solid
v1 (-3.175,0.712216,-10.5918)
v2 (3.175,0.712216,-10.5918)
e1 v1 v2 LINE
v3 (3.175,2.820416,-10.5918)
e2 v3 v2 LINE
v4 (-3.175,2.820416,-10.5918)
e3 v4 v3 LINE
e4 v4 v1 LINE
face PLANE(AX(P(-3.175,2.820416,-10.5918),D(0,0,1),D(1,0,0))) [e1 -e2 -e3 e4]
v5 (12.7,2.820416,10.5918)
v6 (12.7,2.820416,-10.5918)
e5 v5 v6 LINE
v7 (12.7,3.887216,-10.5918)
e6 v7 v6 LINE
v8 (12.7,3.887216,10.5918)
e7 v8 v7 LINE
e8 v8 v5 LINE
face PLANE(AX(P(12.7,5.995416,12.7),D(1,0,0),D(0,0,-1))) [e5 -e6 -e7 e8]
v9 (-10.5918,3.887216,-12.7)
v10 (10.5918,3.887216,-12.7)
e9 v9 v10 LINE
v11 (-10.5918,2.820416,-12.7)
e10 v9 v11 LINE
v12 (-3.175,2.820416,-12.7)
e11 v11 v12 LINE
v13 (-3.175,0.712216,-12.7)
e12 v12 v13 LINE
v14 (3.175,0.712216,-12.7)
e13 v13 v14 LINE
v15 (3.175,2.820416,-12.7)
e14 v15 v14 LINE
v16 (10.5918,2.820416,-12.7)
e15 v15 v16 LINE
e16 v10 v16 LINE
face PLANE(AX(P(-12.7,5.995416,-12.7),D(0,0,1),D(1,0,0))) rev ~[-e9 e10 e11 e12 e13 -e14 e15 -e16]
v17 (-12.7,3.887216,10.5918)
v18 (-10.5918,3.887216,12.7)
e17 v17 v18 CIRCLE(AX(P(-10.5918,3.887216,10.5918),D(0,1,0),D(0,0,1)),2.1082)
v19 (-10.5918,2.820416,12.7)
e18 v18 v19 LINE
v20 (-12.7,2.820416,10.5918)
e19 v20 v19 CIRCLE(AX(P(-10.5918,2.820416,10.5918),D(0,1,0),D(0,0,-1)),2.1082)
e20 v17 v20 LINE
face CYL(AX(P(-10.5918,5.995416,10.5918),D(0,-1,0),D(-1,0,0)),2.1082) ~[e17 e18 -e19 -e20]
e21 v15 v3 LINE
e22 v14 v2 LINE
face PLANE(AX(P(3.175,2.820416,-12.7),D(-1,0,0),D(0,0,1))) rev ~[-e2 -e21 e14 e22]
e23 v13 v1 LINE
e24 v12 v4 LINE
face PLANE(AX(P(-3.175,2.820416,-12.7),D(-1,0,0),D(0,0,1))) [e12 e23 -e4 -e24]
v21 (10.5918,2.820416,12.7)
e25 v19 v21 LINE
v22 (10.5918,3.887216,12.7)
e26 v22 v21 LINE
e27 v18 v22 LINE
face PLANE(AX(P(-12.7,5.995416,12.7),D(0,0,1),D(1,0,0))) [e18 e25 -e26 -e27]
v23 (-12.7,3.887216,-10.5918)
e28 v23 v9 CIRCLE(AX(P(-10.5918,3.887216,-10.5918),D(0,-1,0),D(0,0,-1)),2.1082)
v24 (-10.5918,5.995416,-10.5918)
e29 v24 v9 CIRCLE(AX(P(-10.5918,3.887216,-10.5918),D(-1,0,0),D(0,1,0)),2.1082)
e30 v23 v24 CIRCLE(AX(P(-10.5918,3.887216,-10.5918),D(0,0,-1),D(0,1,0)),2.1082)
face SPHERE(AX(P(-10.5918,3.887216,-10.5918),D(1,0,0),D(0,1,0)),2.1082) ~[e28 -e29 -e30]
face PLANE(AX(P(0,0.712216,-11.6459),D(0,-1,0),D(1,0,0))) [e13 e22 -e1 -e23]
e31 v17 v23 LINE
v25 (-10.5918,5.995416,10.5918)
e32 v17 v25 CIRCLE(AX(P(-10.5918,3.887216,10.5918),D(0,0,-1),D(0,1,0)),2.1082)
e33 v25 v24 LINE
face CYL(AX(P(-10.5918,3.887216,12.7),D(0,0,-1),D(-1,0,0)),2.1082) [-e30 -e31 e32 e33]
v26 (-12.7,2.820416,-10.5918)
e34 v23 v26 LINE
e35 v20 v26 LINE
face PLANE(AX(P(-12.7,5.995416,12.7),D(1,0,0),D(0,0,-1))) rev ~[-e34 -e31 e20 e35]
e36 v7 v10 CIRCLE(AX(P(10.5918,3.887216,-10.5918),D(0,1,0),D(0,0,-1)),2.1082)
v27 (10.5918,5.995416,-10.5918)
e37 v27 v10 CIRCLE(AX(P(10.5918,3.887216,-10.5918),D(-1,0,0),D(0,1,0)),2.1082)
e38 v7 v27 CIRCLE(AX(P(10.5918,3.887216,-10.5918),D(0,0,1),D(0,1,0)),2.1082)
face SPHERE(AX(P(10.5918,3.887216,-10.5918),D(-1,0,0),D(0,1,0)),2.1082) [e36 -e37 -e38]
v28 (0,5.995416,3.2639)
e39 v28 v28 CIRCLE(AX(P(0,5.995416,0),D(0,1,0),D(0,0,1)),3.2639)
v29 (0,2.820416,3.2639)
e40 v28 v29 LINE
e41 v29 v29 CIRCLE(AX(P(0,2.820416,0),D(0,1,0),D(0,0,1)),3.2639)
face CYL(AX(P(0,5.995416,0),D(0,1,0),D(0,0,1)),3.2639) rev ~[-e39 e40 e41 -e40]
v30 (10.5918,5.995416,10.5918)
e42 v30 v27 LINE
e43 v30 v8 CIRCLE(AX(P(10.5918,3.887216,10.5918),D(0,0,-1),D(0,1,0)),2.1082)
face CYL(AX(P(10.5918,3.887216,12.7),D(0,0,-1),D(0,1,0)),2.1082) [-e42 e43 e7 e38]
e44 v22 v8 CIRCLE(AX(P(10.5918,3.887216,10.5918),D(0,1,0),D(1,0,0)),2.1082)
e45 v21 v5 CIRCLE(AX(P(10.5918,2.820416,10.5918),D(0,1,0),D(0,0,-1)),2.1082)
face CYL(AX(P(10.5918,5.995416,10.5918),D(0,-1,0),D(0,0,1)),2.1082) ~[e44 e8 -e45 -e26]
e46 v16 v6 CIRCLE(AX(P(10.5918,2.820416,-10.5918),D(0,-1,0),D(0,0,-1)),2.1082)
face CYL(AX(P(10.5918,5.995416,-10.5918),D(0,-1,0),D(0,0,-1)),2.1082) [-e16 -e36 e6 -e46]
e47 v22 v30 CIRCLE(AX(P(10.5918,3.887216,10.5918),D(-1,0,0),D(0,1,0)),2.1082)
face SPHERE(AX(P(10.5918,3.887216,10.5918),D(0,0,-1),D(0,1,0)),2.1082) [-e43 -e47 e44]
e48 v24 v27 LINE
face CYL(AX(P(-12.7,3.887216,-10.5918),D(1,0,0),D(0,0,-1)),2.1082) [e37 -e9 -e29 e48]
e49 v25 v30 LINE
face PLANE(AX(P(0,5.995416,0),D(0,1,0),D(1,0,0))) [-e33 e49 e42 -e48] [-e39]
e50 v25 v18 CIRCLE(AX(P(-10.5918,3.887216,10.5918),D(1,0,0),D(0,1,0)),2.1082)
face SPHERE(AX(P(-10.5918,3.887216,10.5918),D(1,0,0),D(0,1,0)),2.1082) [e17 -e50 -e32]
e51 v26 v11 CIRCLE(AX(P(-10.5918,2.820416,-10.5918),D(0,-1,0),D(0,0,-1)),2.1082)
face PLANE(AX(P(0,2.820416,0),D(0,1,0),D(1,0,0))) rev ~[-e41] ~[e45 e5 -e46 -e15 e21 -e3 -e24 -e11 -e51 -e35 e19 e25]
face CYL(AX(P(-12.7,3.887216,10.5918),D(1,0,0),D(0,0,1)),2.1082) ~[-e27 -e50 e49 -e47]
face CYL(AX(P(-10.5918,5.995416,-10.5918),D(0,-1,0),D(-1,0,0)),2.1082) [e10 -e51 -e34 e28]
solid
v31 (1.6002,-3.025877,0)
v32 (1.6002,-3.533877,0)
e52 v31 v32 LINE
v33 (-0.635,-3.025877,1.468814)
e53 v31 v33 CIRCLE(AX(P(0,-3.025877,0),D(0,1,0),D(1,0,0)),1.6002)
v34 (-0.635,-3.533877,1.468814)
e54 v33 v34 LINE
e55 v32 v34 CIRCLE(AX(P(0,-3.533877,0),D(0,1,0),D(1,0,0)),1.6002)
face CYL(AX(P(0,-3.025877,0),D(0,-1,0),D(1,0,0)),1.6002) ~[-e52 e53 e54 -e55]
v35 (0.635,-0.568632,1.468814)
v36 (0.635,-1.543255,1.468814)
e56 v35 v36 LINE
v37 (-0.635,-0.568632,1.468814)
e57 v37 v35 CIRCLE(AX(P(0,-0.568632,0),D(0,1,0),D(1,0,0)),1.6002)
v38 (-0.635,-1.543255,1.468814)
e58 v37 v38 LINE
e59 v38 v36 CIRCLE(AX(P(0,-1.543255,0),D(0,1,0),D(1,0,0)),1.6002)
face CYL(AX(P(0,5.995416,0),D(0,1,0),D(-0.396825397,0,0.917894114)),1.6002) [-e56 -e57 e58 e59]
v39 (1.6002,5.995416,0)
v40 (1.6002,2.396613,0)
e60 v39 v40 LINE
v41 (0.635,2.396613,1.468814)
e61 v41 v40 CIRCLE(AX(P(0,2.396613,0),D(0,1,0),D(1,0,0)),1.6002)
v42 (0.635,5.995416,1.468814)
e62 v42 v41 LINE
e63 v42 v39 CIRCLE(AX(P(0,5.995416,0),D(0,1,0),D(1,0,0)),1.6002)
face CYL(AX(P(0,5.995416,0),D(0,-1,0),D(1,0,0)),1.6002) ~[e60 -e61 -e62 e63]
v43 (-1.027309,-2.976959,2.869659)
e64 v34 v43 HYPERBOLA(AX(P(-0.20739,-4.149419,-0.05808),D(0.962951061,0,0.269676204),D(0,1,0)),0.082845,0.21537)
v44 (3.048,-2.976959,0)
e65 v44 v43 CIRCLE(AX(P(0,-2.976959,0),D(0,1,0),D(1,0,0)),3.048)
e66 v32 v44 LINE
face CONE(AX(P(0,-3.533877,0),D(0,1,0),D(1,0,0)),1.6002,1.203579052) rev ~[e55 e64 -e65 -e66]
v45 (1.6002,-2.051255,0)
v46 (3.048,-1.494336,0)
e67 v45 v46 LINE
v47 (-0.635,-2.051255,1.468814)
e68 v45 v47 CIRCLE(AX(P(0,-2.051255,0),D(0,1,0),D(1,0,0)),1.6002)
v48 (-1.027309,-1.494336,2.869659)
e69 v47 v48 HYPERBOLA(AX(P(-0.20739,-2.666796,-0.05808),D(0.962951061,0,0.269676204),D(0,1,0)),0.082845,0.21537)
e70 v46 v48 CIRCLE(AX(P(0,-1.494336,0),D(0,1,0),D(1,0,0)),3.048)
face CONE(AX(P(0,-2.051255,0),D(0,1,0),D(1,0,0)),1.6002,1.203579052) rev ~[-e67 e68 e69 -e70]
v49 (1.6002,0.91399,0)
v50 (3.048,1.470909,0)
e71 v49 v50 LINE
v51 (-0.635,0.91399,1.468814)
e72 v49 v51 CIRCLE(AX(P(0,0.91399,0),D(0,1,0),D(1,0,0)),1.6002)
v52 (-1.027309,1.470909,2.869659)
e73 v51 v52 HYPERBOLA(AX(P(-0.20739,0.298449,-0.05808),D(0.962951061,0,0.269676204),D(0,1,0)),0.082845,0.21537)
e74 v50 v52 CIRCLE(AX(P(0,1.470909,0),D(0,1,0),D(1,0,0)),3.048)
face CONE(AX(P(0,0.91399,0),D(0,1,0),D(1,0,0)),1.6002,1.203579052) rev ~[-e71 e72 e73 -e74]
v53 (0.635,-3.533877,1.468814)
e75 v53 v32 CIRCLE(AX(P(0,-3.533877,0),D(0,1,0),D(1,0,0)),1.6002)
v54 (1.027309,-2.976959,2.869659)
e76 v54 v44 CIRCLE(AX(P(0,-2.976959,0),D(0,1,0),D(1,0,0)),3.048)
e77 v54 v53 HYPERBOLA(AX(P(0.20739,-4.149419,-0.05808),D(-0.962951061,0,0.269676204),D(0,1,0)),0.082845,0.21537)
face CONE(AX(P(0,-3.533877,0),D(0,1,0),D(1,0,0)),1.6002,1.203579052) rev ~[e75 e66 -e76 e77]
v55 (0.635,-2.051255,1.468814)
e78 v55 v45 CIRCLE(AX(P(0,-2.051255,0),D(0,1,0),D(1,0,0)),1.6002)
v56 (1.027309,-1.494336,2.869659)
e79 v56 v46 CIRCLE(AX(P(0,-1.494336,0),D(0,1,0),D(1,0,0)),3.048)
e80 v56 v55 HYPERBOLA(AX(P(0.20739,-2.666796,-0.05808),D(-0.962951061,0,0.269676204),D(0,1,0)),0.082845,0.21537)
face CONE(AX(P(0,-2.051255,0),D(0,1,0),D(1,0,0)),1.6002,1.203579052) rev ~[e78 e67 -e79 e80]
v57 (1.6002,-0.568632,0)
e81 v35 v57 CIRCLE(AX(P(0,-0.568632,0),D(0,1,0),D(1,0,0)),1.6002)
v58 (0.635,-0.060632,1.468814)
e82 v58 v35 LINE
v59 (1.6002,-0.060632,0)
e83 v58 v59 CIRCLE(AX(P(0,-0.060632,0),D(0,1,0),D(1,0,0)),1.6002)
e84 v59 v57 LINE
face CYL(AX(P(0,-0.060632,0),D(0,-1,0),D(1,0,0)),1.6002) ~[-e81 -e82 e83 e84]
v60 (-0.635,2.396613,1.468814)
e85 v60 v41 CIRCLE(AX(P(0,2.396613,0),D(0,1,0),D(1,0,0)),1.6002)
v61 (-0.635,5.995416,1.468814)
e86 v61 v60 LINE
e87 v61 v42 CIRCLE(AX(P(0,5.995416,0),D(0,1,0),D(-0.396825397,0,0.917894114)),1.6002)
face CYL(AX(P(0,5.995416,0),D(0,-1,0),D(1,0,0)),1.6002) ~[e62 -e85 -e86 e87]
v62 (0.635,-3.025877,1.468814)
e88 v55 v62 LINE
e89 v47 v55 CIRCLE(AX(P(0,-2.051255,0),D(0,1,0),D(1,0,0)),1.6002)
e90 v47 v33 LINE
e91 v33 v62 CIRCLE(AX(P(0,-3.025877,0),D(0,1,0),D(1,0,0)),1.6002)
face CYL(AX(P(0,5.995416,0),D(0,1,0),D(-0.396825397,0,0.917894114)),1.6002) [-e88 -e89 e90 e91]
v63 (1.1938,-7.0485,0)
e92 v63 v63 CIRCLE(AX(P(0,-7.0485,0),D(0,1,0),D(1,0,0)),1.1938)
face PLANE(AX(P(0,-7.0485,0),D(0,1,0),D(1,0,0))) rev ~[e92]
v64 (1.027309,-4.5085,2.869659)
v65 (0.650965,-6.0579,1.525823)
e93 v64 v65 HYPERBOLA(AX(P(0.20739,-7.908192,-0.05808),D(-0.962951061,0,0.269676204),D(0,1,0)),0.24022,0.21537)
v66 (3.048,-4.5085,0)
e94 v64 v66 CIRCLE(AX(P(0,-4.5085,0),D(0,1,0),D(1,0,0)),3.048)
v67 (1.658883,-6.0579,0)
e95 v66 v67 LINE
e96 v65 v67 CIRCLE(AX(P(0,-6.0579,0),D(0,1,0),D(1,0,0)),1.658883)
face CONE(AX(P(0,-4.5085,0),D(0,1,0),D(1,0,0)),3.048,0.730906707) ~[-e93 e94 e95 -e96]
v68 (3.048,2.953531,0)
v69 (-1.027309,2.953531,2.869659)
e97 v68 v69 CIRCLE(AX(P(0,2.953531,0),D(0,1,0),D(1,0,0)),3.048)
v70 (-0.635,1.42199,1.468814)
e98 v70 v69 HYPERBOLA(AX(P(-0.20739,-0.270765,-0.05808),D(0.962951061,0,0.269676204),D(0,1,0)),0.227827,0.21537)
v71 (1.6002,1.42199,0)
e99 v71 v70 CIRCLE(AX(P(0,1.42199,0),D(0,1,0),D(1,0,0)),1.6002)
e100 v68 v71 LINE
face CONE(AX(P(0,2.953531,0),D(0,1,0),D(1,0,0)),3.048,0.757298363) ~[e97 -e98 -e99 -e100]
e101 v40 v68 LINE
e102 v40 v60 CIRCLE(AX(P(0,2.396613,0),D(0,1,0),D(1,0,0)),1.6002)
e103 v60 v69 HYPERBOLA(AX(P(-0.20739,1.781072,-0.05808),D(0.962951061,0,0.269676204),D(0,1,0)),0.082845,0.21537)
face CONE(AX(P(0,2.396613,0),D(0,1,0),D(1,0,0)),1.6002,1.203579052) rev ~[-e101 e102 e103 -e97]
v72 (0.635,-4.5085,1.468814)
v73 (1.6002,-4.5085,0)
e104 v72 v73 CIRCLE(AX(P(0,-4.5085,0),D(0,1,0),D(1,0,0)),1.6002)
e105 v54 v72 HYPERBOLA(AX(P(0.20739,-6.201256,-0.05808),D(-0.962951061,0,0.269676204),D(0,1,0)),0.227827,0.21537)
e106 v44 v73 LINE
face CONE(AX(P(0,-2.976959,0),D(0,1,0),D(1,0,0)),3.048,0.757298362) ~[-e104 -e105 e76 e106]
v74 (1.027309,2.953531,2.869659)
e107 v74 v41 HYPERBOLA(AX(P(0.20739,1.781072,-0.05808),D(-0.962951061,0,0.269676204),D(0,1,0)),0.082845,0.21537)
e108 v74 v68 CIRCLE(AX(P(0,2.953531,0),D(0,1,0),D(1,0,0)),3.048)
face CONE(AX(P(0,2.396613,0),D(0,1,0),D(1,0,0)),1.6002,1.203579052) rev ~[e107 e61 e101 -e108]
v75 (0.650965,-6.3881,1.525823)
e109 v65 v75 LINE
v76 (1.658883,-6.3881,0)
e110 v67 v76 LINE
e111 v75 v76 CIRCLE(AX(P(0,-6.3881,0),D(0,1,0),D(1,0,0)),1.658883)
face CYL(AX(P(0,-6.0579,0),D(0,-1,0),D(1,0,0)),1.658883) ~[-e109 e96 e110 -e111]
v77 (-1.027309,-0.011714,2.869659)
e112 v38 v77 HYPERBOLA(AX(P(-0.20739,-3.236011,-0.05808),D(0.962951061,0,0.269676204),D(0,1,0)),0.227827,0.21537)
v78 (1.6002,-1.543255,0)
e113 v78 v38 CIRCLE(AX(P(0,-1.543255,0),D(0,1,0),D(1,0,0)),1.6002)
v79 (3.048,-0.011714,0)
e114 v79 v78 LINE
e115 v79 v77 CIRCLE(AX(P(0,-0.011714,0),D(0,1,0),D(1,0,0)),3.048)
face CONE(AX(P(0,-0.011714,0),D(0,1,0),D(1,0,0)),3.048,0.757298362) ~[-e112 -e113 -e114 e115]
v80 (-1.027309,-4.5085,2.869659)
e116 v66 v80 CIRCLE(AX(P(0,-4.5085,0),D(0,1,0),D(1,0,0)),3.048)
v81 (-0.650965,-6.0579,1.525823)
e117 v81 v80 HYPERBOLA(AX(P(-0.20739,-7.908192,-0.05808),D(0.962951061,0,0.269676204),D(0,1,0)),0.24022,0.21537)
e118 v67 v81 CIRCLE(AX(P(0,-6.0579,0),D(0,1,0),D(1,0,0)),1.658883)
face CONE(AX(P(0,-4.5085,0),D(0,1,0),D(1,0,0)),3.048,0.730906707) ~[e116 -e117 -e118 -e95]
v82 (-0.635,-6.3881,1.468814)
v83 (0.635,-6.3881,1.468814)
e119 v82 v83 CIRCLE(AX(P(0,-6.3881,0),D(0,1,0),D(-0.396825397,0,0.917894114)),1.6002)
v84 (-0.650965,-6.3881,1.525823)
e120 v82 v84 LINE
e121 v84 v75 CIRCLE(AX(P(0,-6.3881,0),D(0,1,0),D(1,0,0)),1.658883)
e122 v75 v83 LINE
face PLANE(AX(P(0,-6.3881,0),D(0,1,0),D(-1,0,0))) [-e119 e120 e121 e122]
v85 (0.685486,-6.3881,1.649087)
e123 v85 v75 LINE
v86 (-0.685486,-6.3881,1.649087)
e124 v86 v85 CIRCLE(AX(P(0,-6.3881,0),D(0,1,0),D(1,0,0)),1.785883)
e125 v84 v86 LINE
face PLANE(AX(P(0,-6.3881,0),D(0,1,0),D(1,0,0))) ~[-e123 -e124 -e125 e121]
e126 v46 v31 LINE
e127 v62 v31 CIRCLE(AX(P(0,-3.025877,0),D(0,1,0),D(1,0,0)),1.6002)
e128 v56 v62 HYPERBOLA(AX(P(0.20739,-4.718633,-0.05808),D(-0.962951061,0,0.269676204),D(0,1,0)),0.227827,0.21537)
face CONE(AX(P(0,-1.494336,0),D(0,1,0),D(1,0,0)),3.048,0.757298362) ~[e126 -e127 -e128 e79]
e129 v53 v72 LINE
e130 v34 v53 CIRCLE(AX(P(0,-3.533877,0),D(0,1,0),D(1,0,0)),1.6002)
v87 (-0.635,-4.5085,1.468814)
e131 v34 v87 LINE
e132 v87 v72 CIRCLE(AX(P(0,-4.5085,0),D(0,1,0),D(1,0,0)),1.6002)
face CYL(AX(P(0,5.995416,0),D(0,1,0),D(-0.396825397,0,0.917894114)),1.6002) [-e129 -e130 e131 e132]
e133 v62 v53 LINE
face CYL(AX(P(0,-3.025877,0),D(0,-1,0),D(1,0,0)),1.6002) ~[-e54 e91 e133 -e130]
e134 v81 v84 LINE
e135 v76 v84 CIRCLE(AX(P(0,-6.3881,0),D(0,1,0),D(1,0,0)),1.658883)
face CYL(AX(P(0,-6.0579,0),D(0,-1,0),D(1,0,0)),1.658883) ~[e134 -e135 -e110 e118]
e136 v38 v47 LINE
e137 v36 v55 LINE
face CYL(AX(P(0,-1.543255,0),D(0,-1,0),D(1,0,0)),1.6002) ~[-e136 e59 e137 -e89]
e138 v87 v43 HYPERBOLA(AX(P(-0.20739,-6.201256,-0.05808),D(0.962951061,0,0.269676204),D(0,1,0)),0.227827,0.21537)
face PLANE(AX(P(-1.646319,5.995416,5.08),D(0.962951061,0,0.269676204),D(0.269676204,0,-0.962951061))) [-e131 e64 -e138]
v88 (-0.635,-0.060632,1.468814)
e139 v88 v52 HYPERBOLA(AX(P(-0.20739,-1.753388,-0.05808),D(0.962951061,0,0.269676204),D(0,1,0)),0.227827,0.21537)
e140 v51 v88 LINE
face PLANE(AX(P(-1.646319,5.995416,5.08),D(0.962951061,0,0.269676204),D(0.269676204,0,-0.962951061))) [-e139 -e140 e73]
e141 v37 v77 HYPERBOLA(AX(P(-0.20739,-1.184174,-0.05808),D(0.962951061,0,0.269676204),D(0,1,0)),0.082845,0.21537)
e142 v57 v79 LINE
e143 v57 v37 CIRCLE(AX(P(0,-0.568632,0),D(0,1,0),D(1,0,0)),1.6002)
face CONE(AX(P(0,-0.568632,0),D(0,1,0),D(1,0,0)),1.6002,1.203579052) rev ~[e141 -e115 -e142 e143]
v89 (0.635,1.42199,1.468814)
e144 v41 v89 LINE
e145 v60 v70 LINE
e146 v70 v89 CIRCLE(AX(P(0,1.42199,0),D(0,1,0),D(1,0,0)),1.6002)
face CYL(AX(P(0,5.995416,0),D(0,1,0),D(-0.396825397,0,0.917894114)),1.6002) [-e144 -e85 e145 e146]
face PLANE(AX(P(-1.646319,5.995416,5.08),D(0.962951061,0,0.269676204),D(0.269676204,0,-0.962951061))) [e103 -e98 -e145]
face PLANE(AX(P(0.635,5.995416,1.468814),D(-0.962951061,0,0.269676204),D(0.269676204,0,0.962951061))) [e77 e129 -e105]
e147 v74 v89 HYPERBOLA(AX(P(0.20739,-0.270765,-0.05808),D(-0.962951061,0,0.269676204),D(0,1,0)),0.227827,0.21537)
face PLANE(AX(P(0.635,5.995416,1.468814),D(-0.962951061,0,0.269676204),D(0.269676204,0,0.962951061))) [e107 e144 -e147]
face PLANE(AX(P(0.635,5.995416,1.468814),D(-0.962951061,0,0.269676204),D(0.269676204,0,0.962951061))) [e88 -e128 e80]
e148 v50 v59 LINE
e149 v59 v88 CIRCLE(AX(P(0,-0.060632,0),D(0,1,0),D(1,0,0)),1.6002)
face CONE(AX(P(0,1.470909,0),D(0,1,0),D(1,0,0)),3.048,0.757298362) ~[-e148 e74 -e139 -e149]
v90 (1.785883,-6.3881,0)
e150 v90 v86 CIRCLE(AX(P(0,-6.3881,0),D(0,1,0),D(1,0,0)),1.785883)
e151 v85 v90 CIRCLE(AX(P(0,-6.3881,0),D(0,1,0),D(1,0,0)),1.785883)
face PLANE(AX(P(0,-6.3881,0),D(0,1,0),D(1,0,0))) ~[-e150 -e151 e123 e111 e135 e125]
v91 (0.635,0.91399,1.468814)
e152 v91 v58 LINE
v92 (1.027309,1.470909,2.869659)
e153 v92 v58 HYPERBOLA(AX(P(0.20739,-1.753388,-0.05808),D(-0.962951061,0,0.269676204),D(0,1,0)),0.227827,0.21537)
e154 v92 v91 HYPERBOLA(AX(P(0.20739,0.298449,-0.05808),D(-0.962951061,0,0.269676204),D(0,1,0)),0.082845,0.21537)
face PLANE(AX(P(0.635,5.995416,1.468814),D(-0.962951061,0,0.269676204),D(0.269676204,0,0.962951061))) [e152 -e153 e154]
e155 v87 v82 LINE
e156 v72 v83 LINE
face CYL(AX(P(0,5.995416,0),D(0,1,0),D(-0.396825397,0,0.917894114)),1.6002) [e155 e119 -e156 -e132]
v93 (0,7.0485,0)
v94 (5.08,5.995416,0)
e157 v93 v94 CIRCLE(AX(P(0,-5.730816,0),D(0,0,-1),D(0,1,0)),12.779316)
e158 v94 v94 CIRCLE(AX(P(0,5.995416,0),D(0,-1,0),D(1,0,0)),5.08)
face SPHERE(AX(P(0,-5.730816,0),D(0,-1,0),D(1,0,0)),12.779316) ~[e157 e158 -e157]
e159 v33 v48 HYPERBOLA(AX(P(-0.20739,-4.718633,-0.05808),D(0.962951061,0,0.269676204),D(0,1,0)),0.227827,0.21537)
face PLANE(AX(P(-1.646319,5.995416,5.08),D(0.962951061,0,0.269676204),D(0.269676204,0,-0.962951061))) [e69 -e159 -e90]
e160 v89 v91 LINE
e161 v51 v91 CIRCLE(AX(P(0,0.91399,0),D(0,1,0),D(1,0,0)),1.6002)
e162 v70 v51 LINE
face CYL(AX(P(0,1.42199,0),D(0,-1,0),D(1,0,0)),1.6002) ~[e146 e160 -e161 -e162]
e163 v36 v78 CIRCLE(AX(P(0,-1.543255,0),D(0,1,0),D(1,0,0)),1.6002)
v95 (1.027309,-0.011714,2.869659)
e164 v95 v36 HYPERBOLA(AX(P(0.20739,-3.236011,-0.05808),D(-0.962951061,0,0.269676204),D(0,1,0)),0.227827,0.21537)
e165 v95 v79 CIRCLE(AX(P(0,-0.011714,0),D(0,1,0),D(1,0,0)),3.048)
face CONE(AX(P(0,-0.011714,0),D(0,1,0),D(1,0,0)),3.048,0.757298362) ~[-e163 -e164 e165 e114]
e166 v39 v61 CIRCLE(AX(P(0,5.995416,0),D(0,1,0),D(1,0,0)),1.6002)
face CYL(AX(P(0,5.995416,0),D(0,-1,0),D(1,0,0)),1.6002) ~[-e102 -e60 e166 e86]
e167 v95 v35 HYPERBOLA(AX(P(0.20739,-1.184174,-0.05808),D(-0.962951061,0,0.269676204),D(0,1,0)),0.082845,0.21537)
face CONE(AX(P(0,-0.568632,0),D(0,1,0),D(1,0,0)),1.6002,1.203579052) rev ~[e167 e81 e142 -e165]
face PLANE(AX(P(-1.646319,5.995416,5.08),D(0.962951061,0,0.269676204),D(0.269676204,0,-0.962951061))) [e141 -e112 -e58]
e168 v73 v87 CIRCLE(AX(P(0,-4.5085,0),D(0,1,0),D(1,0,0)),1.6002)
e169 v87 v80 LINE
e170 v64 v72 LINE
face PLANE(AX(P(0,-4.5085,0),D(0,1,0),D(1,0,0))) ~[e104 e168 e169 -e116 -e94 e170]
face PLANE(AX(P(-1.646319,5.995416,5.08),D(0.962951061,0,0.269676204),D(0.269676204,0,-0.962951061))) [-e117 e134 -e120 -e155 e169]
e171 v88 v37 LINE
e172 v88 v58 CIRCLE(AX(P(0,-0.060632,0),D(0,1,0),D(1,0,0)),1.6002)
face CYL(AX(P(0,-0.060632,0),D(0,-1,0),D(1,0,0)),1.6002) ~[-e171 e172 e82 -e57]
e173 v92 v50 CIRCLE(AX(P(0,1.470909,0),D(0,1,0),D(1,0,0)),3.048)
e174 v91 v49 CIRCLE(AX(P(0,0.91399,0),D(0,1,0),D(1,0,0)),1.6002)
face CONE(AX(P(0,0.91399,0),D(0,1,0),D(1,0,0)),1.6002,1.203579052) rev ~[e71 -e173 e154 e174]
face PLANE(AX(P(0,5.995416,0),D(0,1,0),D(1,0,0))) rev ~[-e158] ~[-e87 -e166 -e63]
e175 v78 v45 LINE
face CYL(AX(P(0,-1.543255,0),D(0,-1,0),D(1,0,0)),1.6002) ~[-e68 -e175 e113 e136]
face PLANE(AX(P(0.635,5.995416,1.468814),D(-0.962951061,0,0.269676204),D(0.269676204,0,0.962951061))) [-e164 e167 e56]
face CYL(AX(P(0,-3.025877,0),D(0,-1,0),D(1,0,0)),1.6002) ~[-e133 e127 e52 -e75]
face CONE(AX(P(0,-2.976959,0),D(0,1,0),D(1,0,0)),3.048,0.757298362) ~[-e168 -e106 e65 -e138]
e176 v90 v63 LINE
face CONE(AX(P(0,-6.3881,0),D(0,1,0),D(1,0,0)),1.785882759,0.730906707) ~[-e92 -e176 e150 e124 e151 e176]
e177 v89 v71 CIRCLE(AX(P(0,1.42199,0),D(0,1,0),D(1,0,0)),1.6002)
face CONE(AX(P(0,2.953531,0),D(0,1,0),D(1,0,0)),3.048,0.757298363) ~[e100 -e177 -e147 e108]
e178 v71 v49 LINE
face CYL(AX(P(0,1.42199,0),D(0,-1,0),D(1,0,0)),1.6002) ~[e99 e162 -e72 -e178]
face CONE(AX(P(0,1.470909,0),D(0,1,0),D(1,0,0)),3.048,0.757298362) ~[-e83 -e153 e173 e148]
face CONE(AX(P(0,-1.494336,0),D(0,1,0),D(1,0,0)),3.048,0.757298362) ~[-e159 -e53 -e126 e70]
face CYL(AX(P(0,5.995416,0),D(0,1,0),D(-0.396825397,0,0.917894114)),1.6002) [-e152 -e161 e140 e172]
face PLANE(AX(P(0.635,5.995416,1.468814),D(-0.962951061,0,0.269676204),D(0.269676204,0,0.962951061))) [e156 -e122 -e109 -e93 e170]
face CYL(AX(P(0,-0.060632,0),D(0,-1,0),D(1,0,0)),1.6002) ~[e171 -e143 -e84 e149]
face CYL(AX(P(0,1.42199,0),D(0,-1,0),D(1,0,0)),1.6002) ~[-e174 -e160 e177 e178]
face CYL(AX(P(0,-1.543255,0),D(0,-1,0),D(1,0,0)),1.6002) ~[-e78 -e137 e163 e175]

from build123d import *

# Parameters (mm, degrees)
BOSS_EXTRUDE1_START = 5.995416
SKETCH3_W           = 25.4
SKETCH3_H           = 25.4
SKETCH3_R           = 3.2639
BOSS_EXTRUDE1_DEPTH = 3.175
SKETCH4_W           = 6.35
SKETCH4_H           = 2.1082
BOSS_EXTRUDE2_DEPTH = 2.1082
FILLET1_R           = 2.1082
CUT_EXTRUDE1_REACH  = 24.197


with BuildPart() as part:
    # Sketch3 → Boss-Extrude1 (new body)
    with BuildSketch(Plane(origin=(0, 0, 0), x_dir=(1, 0, 0), z_dir=(0, 1, 0)).offset(BOSS_EXTRUDE1_START)):
        Rectangle(SKETCH3_W, SKETCH3_H)
        with Locations(Location((0, 0, 0), (0, 0, 270))):
            Circle(SKETCH3_R, mode=Mode.SUBTRACT)
    extrude(amount=-BOSS_EXTRUDE1_DEPTH)

    # Sketch4 → Boss-Extrude2 (add)
    with BuildSketch(Plane.XZ.offset(-2.820416)):
        with Locations((0, -11.6459)):
            Rectangle(SKETCH4_W, SKETCH4_H)
    extrude(amount=BOSS_EXTRUDE2_DEPTH)

    # Fillet1
    fillet1_edges = [part.edges().sort_by_distance(p)[0] for p in [
        (0, 5.995416, -12.7),
        (12.7, 5.995416, 0),
        (0, 5.995416, 12.7),
        (-12.7, 5.995416, 0),
        (-12.7, 4.407916, -12.7),
        (12.7, 4.407916, -12.7),
        (12.7, 4.407916, 12.7),
        (-12.7, 4.407916, 12.7),
    ]]
    fillet(fillet1_edges, radius=FILLET1_R)


with BuildPart() as body_2:
    # Sketch5 → Revolve1 (revolve)
    with BuildSketch(Plane.XY, mode=Mode.PRIVATE) as revolve1_sk:
        with BuildLine():
            Line((-5.08, 5.995416), (-1.6002, 5.995416))
            Line((-1.6002, 5.995416), (-1.6002, 2.396612882))
            Line((-1.6002, 2.396612882), (-3.048, 2.953531234))
            Line((-3.048, 2.953531234), (-1.6002, 1.421990306))
            Line((-1.6002, 1.421990306), (-1.6002, 0.913990306))
            Line((-1.6002, 0.913990306), (-3.048, 1.470908658))
            Line((-3.048, 1.470908658), (-1.6002, -0.060632271))
            Line((-1.6002, -0.060632271), (-1.6002, -0.568632271))
            Line((-1.6002, -0.568632271), (-3.048, -0.011713918))
            Line((-3.048, -0.011713918), (-1.6002, -1.543254847))
            Line((-1.6002, -1.543254847), (-1.6002, -2.051254847))
            Line((-1.6002, -2.051254847), (-3.048, -1.494336495))
            Line((-3.048, -1.494336495), (-1.6002, -3.025877424))
            Line((-1.6002, -3.025877424), (-1.6002, -3.533877424))
            Line((-1.6002, -3.533877424), (-3.048, -2.976959071))
            Line((-3.048, -2.976959071), (-1.6002, -4.5085))
            Line((-1.6002, -4.5085), (-3.048, -4.5085))
            Line((-3.048, -4.5085), (-1.658882759, -6.0579))
            Line((-1.658882759, -6.0579), (-1.658882759, -6.3881))
            Line((-1.658882759, -6.3881), (-1.785882759, -6.3881))
            Line((-1.785882759, -6.3881), (-1.1938, -7.0485))
            Line((-1.1938, -7.0485), (0, -7.0485))
            Line((0, -7.0485), (0, 7.0485))
            ThreePointArc((0, 7.0485), (-2.59400202, 6.782459783), (-5.08, 5.995416))
        make_face()
    revolve(revolve1_sk.sketch.rotate(Axis((0, -7.0485, 0), (0, 1, 0)), 180), axis=Axis((0, -7.0485, 0), (0, 1, 0)))

    # Cut-Extrude1: up to this face of the body (flat: up to its plane)
    cut_extrude1_end = Plane(body_2.part.faces().sort_by_distance((-1.709395151, -6.3881, 0))[0])
    # Sketch6 → Cut-Extrude1 (cut, up to the picked face)
    with BuildSketch(Plane.XZ.offset(-5.995416), mode=Mode.PRIVATE) as cut_extrude1_sk1:
        with BuildLine():
            Line((1.646319191, 5.08), (-1.646319191, 5.08))
            Line((-1.646319191, 5.08), (-0.635, 1.468814161))
            ThreePointArc((-0.635, 1.468814161), (0, 1.6002), (0.635, 1.468814161))
            Line((0.635, 1.468814161), (1.646319191, 5.08))
        make_face()
    cut_extrude1_tool1 = split(extrude(cut_extrude1_sk1.sketch, amount=CUT_EXTRUDE1_REACH, mode=Mode.PRIVATE), bisect_by=cut_extrude1_end, keep=Keep.BOTH, mode=Mode.PRIVATE)
    add(cut_extrude1_tool1.solids().sort_by(Axis((0, 5.995416, 3.569099), (0, -1, 0)))[0], mode=Mode.SUBTRACT)


solid = Compound([part.part, body_2.part])
